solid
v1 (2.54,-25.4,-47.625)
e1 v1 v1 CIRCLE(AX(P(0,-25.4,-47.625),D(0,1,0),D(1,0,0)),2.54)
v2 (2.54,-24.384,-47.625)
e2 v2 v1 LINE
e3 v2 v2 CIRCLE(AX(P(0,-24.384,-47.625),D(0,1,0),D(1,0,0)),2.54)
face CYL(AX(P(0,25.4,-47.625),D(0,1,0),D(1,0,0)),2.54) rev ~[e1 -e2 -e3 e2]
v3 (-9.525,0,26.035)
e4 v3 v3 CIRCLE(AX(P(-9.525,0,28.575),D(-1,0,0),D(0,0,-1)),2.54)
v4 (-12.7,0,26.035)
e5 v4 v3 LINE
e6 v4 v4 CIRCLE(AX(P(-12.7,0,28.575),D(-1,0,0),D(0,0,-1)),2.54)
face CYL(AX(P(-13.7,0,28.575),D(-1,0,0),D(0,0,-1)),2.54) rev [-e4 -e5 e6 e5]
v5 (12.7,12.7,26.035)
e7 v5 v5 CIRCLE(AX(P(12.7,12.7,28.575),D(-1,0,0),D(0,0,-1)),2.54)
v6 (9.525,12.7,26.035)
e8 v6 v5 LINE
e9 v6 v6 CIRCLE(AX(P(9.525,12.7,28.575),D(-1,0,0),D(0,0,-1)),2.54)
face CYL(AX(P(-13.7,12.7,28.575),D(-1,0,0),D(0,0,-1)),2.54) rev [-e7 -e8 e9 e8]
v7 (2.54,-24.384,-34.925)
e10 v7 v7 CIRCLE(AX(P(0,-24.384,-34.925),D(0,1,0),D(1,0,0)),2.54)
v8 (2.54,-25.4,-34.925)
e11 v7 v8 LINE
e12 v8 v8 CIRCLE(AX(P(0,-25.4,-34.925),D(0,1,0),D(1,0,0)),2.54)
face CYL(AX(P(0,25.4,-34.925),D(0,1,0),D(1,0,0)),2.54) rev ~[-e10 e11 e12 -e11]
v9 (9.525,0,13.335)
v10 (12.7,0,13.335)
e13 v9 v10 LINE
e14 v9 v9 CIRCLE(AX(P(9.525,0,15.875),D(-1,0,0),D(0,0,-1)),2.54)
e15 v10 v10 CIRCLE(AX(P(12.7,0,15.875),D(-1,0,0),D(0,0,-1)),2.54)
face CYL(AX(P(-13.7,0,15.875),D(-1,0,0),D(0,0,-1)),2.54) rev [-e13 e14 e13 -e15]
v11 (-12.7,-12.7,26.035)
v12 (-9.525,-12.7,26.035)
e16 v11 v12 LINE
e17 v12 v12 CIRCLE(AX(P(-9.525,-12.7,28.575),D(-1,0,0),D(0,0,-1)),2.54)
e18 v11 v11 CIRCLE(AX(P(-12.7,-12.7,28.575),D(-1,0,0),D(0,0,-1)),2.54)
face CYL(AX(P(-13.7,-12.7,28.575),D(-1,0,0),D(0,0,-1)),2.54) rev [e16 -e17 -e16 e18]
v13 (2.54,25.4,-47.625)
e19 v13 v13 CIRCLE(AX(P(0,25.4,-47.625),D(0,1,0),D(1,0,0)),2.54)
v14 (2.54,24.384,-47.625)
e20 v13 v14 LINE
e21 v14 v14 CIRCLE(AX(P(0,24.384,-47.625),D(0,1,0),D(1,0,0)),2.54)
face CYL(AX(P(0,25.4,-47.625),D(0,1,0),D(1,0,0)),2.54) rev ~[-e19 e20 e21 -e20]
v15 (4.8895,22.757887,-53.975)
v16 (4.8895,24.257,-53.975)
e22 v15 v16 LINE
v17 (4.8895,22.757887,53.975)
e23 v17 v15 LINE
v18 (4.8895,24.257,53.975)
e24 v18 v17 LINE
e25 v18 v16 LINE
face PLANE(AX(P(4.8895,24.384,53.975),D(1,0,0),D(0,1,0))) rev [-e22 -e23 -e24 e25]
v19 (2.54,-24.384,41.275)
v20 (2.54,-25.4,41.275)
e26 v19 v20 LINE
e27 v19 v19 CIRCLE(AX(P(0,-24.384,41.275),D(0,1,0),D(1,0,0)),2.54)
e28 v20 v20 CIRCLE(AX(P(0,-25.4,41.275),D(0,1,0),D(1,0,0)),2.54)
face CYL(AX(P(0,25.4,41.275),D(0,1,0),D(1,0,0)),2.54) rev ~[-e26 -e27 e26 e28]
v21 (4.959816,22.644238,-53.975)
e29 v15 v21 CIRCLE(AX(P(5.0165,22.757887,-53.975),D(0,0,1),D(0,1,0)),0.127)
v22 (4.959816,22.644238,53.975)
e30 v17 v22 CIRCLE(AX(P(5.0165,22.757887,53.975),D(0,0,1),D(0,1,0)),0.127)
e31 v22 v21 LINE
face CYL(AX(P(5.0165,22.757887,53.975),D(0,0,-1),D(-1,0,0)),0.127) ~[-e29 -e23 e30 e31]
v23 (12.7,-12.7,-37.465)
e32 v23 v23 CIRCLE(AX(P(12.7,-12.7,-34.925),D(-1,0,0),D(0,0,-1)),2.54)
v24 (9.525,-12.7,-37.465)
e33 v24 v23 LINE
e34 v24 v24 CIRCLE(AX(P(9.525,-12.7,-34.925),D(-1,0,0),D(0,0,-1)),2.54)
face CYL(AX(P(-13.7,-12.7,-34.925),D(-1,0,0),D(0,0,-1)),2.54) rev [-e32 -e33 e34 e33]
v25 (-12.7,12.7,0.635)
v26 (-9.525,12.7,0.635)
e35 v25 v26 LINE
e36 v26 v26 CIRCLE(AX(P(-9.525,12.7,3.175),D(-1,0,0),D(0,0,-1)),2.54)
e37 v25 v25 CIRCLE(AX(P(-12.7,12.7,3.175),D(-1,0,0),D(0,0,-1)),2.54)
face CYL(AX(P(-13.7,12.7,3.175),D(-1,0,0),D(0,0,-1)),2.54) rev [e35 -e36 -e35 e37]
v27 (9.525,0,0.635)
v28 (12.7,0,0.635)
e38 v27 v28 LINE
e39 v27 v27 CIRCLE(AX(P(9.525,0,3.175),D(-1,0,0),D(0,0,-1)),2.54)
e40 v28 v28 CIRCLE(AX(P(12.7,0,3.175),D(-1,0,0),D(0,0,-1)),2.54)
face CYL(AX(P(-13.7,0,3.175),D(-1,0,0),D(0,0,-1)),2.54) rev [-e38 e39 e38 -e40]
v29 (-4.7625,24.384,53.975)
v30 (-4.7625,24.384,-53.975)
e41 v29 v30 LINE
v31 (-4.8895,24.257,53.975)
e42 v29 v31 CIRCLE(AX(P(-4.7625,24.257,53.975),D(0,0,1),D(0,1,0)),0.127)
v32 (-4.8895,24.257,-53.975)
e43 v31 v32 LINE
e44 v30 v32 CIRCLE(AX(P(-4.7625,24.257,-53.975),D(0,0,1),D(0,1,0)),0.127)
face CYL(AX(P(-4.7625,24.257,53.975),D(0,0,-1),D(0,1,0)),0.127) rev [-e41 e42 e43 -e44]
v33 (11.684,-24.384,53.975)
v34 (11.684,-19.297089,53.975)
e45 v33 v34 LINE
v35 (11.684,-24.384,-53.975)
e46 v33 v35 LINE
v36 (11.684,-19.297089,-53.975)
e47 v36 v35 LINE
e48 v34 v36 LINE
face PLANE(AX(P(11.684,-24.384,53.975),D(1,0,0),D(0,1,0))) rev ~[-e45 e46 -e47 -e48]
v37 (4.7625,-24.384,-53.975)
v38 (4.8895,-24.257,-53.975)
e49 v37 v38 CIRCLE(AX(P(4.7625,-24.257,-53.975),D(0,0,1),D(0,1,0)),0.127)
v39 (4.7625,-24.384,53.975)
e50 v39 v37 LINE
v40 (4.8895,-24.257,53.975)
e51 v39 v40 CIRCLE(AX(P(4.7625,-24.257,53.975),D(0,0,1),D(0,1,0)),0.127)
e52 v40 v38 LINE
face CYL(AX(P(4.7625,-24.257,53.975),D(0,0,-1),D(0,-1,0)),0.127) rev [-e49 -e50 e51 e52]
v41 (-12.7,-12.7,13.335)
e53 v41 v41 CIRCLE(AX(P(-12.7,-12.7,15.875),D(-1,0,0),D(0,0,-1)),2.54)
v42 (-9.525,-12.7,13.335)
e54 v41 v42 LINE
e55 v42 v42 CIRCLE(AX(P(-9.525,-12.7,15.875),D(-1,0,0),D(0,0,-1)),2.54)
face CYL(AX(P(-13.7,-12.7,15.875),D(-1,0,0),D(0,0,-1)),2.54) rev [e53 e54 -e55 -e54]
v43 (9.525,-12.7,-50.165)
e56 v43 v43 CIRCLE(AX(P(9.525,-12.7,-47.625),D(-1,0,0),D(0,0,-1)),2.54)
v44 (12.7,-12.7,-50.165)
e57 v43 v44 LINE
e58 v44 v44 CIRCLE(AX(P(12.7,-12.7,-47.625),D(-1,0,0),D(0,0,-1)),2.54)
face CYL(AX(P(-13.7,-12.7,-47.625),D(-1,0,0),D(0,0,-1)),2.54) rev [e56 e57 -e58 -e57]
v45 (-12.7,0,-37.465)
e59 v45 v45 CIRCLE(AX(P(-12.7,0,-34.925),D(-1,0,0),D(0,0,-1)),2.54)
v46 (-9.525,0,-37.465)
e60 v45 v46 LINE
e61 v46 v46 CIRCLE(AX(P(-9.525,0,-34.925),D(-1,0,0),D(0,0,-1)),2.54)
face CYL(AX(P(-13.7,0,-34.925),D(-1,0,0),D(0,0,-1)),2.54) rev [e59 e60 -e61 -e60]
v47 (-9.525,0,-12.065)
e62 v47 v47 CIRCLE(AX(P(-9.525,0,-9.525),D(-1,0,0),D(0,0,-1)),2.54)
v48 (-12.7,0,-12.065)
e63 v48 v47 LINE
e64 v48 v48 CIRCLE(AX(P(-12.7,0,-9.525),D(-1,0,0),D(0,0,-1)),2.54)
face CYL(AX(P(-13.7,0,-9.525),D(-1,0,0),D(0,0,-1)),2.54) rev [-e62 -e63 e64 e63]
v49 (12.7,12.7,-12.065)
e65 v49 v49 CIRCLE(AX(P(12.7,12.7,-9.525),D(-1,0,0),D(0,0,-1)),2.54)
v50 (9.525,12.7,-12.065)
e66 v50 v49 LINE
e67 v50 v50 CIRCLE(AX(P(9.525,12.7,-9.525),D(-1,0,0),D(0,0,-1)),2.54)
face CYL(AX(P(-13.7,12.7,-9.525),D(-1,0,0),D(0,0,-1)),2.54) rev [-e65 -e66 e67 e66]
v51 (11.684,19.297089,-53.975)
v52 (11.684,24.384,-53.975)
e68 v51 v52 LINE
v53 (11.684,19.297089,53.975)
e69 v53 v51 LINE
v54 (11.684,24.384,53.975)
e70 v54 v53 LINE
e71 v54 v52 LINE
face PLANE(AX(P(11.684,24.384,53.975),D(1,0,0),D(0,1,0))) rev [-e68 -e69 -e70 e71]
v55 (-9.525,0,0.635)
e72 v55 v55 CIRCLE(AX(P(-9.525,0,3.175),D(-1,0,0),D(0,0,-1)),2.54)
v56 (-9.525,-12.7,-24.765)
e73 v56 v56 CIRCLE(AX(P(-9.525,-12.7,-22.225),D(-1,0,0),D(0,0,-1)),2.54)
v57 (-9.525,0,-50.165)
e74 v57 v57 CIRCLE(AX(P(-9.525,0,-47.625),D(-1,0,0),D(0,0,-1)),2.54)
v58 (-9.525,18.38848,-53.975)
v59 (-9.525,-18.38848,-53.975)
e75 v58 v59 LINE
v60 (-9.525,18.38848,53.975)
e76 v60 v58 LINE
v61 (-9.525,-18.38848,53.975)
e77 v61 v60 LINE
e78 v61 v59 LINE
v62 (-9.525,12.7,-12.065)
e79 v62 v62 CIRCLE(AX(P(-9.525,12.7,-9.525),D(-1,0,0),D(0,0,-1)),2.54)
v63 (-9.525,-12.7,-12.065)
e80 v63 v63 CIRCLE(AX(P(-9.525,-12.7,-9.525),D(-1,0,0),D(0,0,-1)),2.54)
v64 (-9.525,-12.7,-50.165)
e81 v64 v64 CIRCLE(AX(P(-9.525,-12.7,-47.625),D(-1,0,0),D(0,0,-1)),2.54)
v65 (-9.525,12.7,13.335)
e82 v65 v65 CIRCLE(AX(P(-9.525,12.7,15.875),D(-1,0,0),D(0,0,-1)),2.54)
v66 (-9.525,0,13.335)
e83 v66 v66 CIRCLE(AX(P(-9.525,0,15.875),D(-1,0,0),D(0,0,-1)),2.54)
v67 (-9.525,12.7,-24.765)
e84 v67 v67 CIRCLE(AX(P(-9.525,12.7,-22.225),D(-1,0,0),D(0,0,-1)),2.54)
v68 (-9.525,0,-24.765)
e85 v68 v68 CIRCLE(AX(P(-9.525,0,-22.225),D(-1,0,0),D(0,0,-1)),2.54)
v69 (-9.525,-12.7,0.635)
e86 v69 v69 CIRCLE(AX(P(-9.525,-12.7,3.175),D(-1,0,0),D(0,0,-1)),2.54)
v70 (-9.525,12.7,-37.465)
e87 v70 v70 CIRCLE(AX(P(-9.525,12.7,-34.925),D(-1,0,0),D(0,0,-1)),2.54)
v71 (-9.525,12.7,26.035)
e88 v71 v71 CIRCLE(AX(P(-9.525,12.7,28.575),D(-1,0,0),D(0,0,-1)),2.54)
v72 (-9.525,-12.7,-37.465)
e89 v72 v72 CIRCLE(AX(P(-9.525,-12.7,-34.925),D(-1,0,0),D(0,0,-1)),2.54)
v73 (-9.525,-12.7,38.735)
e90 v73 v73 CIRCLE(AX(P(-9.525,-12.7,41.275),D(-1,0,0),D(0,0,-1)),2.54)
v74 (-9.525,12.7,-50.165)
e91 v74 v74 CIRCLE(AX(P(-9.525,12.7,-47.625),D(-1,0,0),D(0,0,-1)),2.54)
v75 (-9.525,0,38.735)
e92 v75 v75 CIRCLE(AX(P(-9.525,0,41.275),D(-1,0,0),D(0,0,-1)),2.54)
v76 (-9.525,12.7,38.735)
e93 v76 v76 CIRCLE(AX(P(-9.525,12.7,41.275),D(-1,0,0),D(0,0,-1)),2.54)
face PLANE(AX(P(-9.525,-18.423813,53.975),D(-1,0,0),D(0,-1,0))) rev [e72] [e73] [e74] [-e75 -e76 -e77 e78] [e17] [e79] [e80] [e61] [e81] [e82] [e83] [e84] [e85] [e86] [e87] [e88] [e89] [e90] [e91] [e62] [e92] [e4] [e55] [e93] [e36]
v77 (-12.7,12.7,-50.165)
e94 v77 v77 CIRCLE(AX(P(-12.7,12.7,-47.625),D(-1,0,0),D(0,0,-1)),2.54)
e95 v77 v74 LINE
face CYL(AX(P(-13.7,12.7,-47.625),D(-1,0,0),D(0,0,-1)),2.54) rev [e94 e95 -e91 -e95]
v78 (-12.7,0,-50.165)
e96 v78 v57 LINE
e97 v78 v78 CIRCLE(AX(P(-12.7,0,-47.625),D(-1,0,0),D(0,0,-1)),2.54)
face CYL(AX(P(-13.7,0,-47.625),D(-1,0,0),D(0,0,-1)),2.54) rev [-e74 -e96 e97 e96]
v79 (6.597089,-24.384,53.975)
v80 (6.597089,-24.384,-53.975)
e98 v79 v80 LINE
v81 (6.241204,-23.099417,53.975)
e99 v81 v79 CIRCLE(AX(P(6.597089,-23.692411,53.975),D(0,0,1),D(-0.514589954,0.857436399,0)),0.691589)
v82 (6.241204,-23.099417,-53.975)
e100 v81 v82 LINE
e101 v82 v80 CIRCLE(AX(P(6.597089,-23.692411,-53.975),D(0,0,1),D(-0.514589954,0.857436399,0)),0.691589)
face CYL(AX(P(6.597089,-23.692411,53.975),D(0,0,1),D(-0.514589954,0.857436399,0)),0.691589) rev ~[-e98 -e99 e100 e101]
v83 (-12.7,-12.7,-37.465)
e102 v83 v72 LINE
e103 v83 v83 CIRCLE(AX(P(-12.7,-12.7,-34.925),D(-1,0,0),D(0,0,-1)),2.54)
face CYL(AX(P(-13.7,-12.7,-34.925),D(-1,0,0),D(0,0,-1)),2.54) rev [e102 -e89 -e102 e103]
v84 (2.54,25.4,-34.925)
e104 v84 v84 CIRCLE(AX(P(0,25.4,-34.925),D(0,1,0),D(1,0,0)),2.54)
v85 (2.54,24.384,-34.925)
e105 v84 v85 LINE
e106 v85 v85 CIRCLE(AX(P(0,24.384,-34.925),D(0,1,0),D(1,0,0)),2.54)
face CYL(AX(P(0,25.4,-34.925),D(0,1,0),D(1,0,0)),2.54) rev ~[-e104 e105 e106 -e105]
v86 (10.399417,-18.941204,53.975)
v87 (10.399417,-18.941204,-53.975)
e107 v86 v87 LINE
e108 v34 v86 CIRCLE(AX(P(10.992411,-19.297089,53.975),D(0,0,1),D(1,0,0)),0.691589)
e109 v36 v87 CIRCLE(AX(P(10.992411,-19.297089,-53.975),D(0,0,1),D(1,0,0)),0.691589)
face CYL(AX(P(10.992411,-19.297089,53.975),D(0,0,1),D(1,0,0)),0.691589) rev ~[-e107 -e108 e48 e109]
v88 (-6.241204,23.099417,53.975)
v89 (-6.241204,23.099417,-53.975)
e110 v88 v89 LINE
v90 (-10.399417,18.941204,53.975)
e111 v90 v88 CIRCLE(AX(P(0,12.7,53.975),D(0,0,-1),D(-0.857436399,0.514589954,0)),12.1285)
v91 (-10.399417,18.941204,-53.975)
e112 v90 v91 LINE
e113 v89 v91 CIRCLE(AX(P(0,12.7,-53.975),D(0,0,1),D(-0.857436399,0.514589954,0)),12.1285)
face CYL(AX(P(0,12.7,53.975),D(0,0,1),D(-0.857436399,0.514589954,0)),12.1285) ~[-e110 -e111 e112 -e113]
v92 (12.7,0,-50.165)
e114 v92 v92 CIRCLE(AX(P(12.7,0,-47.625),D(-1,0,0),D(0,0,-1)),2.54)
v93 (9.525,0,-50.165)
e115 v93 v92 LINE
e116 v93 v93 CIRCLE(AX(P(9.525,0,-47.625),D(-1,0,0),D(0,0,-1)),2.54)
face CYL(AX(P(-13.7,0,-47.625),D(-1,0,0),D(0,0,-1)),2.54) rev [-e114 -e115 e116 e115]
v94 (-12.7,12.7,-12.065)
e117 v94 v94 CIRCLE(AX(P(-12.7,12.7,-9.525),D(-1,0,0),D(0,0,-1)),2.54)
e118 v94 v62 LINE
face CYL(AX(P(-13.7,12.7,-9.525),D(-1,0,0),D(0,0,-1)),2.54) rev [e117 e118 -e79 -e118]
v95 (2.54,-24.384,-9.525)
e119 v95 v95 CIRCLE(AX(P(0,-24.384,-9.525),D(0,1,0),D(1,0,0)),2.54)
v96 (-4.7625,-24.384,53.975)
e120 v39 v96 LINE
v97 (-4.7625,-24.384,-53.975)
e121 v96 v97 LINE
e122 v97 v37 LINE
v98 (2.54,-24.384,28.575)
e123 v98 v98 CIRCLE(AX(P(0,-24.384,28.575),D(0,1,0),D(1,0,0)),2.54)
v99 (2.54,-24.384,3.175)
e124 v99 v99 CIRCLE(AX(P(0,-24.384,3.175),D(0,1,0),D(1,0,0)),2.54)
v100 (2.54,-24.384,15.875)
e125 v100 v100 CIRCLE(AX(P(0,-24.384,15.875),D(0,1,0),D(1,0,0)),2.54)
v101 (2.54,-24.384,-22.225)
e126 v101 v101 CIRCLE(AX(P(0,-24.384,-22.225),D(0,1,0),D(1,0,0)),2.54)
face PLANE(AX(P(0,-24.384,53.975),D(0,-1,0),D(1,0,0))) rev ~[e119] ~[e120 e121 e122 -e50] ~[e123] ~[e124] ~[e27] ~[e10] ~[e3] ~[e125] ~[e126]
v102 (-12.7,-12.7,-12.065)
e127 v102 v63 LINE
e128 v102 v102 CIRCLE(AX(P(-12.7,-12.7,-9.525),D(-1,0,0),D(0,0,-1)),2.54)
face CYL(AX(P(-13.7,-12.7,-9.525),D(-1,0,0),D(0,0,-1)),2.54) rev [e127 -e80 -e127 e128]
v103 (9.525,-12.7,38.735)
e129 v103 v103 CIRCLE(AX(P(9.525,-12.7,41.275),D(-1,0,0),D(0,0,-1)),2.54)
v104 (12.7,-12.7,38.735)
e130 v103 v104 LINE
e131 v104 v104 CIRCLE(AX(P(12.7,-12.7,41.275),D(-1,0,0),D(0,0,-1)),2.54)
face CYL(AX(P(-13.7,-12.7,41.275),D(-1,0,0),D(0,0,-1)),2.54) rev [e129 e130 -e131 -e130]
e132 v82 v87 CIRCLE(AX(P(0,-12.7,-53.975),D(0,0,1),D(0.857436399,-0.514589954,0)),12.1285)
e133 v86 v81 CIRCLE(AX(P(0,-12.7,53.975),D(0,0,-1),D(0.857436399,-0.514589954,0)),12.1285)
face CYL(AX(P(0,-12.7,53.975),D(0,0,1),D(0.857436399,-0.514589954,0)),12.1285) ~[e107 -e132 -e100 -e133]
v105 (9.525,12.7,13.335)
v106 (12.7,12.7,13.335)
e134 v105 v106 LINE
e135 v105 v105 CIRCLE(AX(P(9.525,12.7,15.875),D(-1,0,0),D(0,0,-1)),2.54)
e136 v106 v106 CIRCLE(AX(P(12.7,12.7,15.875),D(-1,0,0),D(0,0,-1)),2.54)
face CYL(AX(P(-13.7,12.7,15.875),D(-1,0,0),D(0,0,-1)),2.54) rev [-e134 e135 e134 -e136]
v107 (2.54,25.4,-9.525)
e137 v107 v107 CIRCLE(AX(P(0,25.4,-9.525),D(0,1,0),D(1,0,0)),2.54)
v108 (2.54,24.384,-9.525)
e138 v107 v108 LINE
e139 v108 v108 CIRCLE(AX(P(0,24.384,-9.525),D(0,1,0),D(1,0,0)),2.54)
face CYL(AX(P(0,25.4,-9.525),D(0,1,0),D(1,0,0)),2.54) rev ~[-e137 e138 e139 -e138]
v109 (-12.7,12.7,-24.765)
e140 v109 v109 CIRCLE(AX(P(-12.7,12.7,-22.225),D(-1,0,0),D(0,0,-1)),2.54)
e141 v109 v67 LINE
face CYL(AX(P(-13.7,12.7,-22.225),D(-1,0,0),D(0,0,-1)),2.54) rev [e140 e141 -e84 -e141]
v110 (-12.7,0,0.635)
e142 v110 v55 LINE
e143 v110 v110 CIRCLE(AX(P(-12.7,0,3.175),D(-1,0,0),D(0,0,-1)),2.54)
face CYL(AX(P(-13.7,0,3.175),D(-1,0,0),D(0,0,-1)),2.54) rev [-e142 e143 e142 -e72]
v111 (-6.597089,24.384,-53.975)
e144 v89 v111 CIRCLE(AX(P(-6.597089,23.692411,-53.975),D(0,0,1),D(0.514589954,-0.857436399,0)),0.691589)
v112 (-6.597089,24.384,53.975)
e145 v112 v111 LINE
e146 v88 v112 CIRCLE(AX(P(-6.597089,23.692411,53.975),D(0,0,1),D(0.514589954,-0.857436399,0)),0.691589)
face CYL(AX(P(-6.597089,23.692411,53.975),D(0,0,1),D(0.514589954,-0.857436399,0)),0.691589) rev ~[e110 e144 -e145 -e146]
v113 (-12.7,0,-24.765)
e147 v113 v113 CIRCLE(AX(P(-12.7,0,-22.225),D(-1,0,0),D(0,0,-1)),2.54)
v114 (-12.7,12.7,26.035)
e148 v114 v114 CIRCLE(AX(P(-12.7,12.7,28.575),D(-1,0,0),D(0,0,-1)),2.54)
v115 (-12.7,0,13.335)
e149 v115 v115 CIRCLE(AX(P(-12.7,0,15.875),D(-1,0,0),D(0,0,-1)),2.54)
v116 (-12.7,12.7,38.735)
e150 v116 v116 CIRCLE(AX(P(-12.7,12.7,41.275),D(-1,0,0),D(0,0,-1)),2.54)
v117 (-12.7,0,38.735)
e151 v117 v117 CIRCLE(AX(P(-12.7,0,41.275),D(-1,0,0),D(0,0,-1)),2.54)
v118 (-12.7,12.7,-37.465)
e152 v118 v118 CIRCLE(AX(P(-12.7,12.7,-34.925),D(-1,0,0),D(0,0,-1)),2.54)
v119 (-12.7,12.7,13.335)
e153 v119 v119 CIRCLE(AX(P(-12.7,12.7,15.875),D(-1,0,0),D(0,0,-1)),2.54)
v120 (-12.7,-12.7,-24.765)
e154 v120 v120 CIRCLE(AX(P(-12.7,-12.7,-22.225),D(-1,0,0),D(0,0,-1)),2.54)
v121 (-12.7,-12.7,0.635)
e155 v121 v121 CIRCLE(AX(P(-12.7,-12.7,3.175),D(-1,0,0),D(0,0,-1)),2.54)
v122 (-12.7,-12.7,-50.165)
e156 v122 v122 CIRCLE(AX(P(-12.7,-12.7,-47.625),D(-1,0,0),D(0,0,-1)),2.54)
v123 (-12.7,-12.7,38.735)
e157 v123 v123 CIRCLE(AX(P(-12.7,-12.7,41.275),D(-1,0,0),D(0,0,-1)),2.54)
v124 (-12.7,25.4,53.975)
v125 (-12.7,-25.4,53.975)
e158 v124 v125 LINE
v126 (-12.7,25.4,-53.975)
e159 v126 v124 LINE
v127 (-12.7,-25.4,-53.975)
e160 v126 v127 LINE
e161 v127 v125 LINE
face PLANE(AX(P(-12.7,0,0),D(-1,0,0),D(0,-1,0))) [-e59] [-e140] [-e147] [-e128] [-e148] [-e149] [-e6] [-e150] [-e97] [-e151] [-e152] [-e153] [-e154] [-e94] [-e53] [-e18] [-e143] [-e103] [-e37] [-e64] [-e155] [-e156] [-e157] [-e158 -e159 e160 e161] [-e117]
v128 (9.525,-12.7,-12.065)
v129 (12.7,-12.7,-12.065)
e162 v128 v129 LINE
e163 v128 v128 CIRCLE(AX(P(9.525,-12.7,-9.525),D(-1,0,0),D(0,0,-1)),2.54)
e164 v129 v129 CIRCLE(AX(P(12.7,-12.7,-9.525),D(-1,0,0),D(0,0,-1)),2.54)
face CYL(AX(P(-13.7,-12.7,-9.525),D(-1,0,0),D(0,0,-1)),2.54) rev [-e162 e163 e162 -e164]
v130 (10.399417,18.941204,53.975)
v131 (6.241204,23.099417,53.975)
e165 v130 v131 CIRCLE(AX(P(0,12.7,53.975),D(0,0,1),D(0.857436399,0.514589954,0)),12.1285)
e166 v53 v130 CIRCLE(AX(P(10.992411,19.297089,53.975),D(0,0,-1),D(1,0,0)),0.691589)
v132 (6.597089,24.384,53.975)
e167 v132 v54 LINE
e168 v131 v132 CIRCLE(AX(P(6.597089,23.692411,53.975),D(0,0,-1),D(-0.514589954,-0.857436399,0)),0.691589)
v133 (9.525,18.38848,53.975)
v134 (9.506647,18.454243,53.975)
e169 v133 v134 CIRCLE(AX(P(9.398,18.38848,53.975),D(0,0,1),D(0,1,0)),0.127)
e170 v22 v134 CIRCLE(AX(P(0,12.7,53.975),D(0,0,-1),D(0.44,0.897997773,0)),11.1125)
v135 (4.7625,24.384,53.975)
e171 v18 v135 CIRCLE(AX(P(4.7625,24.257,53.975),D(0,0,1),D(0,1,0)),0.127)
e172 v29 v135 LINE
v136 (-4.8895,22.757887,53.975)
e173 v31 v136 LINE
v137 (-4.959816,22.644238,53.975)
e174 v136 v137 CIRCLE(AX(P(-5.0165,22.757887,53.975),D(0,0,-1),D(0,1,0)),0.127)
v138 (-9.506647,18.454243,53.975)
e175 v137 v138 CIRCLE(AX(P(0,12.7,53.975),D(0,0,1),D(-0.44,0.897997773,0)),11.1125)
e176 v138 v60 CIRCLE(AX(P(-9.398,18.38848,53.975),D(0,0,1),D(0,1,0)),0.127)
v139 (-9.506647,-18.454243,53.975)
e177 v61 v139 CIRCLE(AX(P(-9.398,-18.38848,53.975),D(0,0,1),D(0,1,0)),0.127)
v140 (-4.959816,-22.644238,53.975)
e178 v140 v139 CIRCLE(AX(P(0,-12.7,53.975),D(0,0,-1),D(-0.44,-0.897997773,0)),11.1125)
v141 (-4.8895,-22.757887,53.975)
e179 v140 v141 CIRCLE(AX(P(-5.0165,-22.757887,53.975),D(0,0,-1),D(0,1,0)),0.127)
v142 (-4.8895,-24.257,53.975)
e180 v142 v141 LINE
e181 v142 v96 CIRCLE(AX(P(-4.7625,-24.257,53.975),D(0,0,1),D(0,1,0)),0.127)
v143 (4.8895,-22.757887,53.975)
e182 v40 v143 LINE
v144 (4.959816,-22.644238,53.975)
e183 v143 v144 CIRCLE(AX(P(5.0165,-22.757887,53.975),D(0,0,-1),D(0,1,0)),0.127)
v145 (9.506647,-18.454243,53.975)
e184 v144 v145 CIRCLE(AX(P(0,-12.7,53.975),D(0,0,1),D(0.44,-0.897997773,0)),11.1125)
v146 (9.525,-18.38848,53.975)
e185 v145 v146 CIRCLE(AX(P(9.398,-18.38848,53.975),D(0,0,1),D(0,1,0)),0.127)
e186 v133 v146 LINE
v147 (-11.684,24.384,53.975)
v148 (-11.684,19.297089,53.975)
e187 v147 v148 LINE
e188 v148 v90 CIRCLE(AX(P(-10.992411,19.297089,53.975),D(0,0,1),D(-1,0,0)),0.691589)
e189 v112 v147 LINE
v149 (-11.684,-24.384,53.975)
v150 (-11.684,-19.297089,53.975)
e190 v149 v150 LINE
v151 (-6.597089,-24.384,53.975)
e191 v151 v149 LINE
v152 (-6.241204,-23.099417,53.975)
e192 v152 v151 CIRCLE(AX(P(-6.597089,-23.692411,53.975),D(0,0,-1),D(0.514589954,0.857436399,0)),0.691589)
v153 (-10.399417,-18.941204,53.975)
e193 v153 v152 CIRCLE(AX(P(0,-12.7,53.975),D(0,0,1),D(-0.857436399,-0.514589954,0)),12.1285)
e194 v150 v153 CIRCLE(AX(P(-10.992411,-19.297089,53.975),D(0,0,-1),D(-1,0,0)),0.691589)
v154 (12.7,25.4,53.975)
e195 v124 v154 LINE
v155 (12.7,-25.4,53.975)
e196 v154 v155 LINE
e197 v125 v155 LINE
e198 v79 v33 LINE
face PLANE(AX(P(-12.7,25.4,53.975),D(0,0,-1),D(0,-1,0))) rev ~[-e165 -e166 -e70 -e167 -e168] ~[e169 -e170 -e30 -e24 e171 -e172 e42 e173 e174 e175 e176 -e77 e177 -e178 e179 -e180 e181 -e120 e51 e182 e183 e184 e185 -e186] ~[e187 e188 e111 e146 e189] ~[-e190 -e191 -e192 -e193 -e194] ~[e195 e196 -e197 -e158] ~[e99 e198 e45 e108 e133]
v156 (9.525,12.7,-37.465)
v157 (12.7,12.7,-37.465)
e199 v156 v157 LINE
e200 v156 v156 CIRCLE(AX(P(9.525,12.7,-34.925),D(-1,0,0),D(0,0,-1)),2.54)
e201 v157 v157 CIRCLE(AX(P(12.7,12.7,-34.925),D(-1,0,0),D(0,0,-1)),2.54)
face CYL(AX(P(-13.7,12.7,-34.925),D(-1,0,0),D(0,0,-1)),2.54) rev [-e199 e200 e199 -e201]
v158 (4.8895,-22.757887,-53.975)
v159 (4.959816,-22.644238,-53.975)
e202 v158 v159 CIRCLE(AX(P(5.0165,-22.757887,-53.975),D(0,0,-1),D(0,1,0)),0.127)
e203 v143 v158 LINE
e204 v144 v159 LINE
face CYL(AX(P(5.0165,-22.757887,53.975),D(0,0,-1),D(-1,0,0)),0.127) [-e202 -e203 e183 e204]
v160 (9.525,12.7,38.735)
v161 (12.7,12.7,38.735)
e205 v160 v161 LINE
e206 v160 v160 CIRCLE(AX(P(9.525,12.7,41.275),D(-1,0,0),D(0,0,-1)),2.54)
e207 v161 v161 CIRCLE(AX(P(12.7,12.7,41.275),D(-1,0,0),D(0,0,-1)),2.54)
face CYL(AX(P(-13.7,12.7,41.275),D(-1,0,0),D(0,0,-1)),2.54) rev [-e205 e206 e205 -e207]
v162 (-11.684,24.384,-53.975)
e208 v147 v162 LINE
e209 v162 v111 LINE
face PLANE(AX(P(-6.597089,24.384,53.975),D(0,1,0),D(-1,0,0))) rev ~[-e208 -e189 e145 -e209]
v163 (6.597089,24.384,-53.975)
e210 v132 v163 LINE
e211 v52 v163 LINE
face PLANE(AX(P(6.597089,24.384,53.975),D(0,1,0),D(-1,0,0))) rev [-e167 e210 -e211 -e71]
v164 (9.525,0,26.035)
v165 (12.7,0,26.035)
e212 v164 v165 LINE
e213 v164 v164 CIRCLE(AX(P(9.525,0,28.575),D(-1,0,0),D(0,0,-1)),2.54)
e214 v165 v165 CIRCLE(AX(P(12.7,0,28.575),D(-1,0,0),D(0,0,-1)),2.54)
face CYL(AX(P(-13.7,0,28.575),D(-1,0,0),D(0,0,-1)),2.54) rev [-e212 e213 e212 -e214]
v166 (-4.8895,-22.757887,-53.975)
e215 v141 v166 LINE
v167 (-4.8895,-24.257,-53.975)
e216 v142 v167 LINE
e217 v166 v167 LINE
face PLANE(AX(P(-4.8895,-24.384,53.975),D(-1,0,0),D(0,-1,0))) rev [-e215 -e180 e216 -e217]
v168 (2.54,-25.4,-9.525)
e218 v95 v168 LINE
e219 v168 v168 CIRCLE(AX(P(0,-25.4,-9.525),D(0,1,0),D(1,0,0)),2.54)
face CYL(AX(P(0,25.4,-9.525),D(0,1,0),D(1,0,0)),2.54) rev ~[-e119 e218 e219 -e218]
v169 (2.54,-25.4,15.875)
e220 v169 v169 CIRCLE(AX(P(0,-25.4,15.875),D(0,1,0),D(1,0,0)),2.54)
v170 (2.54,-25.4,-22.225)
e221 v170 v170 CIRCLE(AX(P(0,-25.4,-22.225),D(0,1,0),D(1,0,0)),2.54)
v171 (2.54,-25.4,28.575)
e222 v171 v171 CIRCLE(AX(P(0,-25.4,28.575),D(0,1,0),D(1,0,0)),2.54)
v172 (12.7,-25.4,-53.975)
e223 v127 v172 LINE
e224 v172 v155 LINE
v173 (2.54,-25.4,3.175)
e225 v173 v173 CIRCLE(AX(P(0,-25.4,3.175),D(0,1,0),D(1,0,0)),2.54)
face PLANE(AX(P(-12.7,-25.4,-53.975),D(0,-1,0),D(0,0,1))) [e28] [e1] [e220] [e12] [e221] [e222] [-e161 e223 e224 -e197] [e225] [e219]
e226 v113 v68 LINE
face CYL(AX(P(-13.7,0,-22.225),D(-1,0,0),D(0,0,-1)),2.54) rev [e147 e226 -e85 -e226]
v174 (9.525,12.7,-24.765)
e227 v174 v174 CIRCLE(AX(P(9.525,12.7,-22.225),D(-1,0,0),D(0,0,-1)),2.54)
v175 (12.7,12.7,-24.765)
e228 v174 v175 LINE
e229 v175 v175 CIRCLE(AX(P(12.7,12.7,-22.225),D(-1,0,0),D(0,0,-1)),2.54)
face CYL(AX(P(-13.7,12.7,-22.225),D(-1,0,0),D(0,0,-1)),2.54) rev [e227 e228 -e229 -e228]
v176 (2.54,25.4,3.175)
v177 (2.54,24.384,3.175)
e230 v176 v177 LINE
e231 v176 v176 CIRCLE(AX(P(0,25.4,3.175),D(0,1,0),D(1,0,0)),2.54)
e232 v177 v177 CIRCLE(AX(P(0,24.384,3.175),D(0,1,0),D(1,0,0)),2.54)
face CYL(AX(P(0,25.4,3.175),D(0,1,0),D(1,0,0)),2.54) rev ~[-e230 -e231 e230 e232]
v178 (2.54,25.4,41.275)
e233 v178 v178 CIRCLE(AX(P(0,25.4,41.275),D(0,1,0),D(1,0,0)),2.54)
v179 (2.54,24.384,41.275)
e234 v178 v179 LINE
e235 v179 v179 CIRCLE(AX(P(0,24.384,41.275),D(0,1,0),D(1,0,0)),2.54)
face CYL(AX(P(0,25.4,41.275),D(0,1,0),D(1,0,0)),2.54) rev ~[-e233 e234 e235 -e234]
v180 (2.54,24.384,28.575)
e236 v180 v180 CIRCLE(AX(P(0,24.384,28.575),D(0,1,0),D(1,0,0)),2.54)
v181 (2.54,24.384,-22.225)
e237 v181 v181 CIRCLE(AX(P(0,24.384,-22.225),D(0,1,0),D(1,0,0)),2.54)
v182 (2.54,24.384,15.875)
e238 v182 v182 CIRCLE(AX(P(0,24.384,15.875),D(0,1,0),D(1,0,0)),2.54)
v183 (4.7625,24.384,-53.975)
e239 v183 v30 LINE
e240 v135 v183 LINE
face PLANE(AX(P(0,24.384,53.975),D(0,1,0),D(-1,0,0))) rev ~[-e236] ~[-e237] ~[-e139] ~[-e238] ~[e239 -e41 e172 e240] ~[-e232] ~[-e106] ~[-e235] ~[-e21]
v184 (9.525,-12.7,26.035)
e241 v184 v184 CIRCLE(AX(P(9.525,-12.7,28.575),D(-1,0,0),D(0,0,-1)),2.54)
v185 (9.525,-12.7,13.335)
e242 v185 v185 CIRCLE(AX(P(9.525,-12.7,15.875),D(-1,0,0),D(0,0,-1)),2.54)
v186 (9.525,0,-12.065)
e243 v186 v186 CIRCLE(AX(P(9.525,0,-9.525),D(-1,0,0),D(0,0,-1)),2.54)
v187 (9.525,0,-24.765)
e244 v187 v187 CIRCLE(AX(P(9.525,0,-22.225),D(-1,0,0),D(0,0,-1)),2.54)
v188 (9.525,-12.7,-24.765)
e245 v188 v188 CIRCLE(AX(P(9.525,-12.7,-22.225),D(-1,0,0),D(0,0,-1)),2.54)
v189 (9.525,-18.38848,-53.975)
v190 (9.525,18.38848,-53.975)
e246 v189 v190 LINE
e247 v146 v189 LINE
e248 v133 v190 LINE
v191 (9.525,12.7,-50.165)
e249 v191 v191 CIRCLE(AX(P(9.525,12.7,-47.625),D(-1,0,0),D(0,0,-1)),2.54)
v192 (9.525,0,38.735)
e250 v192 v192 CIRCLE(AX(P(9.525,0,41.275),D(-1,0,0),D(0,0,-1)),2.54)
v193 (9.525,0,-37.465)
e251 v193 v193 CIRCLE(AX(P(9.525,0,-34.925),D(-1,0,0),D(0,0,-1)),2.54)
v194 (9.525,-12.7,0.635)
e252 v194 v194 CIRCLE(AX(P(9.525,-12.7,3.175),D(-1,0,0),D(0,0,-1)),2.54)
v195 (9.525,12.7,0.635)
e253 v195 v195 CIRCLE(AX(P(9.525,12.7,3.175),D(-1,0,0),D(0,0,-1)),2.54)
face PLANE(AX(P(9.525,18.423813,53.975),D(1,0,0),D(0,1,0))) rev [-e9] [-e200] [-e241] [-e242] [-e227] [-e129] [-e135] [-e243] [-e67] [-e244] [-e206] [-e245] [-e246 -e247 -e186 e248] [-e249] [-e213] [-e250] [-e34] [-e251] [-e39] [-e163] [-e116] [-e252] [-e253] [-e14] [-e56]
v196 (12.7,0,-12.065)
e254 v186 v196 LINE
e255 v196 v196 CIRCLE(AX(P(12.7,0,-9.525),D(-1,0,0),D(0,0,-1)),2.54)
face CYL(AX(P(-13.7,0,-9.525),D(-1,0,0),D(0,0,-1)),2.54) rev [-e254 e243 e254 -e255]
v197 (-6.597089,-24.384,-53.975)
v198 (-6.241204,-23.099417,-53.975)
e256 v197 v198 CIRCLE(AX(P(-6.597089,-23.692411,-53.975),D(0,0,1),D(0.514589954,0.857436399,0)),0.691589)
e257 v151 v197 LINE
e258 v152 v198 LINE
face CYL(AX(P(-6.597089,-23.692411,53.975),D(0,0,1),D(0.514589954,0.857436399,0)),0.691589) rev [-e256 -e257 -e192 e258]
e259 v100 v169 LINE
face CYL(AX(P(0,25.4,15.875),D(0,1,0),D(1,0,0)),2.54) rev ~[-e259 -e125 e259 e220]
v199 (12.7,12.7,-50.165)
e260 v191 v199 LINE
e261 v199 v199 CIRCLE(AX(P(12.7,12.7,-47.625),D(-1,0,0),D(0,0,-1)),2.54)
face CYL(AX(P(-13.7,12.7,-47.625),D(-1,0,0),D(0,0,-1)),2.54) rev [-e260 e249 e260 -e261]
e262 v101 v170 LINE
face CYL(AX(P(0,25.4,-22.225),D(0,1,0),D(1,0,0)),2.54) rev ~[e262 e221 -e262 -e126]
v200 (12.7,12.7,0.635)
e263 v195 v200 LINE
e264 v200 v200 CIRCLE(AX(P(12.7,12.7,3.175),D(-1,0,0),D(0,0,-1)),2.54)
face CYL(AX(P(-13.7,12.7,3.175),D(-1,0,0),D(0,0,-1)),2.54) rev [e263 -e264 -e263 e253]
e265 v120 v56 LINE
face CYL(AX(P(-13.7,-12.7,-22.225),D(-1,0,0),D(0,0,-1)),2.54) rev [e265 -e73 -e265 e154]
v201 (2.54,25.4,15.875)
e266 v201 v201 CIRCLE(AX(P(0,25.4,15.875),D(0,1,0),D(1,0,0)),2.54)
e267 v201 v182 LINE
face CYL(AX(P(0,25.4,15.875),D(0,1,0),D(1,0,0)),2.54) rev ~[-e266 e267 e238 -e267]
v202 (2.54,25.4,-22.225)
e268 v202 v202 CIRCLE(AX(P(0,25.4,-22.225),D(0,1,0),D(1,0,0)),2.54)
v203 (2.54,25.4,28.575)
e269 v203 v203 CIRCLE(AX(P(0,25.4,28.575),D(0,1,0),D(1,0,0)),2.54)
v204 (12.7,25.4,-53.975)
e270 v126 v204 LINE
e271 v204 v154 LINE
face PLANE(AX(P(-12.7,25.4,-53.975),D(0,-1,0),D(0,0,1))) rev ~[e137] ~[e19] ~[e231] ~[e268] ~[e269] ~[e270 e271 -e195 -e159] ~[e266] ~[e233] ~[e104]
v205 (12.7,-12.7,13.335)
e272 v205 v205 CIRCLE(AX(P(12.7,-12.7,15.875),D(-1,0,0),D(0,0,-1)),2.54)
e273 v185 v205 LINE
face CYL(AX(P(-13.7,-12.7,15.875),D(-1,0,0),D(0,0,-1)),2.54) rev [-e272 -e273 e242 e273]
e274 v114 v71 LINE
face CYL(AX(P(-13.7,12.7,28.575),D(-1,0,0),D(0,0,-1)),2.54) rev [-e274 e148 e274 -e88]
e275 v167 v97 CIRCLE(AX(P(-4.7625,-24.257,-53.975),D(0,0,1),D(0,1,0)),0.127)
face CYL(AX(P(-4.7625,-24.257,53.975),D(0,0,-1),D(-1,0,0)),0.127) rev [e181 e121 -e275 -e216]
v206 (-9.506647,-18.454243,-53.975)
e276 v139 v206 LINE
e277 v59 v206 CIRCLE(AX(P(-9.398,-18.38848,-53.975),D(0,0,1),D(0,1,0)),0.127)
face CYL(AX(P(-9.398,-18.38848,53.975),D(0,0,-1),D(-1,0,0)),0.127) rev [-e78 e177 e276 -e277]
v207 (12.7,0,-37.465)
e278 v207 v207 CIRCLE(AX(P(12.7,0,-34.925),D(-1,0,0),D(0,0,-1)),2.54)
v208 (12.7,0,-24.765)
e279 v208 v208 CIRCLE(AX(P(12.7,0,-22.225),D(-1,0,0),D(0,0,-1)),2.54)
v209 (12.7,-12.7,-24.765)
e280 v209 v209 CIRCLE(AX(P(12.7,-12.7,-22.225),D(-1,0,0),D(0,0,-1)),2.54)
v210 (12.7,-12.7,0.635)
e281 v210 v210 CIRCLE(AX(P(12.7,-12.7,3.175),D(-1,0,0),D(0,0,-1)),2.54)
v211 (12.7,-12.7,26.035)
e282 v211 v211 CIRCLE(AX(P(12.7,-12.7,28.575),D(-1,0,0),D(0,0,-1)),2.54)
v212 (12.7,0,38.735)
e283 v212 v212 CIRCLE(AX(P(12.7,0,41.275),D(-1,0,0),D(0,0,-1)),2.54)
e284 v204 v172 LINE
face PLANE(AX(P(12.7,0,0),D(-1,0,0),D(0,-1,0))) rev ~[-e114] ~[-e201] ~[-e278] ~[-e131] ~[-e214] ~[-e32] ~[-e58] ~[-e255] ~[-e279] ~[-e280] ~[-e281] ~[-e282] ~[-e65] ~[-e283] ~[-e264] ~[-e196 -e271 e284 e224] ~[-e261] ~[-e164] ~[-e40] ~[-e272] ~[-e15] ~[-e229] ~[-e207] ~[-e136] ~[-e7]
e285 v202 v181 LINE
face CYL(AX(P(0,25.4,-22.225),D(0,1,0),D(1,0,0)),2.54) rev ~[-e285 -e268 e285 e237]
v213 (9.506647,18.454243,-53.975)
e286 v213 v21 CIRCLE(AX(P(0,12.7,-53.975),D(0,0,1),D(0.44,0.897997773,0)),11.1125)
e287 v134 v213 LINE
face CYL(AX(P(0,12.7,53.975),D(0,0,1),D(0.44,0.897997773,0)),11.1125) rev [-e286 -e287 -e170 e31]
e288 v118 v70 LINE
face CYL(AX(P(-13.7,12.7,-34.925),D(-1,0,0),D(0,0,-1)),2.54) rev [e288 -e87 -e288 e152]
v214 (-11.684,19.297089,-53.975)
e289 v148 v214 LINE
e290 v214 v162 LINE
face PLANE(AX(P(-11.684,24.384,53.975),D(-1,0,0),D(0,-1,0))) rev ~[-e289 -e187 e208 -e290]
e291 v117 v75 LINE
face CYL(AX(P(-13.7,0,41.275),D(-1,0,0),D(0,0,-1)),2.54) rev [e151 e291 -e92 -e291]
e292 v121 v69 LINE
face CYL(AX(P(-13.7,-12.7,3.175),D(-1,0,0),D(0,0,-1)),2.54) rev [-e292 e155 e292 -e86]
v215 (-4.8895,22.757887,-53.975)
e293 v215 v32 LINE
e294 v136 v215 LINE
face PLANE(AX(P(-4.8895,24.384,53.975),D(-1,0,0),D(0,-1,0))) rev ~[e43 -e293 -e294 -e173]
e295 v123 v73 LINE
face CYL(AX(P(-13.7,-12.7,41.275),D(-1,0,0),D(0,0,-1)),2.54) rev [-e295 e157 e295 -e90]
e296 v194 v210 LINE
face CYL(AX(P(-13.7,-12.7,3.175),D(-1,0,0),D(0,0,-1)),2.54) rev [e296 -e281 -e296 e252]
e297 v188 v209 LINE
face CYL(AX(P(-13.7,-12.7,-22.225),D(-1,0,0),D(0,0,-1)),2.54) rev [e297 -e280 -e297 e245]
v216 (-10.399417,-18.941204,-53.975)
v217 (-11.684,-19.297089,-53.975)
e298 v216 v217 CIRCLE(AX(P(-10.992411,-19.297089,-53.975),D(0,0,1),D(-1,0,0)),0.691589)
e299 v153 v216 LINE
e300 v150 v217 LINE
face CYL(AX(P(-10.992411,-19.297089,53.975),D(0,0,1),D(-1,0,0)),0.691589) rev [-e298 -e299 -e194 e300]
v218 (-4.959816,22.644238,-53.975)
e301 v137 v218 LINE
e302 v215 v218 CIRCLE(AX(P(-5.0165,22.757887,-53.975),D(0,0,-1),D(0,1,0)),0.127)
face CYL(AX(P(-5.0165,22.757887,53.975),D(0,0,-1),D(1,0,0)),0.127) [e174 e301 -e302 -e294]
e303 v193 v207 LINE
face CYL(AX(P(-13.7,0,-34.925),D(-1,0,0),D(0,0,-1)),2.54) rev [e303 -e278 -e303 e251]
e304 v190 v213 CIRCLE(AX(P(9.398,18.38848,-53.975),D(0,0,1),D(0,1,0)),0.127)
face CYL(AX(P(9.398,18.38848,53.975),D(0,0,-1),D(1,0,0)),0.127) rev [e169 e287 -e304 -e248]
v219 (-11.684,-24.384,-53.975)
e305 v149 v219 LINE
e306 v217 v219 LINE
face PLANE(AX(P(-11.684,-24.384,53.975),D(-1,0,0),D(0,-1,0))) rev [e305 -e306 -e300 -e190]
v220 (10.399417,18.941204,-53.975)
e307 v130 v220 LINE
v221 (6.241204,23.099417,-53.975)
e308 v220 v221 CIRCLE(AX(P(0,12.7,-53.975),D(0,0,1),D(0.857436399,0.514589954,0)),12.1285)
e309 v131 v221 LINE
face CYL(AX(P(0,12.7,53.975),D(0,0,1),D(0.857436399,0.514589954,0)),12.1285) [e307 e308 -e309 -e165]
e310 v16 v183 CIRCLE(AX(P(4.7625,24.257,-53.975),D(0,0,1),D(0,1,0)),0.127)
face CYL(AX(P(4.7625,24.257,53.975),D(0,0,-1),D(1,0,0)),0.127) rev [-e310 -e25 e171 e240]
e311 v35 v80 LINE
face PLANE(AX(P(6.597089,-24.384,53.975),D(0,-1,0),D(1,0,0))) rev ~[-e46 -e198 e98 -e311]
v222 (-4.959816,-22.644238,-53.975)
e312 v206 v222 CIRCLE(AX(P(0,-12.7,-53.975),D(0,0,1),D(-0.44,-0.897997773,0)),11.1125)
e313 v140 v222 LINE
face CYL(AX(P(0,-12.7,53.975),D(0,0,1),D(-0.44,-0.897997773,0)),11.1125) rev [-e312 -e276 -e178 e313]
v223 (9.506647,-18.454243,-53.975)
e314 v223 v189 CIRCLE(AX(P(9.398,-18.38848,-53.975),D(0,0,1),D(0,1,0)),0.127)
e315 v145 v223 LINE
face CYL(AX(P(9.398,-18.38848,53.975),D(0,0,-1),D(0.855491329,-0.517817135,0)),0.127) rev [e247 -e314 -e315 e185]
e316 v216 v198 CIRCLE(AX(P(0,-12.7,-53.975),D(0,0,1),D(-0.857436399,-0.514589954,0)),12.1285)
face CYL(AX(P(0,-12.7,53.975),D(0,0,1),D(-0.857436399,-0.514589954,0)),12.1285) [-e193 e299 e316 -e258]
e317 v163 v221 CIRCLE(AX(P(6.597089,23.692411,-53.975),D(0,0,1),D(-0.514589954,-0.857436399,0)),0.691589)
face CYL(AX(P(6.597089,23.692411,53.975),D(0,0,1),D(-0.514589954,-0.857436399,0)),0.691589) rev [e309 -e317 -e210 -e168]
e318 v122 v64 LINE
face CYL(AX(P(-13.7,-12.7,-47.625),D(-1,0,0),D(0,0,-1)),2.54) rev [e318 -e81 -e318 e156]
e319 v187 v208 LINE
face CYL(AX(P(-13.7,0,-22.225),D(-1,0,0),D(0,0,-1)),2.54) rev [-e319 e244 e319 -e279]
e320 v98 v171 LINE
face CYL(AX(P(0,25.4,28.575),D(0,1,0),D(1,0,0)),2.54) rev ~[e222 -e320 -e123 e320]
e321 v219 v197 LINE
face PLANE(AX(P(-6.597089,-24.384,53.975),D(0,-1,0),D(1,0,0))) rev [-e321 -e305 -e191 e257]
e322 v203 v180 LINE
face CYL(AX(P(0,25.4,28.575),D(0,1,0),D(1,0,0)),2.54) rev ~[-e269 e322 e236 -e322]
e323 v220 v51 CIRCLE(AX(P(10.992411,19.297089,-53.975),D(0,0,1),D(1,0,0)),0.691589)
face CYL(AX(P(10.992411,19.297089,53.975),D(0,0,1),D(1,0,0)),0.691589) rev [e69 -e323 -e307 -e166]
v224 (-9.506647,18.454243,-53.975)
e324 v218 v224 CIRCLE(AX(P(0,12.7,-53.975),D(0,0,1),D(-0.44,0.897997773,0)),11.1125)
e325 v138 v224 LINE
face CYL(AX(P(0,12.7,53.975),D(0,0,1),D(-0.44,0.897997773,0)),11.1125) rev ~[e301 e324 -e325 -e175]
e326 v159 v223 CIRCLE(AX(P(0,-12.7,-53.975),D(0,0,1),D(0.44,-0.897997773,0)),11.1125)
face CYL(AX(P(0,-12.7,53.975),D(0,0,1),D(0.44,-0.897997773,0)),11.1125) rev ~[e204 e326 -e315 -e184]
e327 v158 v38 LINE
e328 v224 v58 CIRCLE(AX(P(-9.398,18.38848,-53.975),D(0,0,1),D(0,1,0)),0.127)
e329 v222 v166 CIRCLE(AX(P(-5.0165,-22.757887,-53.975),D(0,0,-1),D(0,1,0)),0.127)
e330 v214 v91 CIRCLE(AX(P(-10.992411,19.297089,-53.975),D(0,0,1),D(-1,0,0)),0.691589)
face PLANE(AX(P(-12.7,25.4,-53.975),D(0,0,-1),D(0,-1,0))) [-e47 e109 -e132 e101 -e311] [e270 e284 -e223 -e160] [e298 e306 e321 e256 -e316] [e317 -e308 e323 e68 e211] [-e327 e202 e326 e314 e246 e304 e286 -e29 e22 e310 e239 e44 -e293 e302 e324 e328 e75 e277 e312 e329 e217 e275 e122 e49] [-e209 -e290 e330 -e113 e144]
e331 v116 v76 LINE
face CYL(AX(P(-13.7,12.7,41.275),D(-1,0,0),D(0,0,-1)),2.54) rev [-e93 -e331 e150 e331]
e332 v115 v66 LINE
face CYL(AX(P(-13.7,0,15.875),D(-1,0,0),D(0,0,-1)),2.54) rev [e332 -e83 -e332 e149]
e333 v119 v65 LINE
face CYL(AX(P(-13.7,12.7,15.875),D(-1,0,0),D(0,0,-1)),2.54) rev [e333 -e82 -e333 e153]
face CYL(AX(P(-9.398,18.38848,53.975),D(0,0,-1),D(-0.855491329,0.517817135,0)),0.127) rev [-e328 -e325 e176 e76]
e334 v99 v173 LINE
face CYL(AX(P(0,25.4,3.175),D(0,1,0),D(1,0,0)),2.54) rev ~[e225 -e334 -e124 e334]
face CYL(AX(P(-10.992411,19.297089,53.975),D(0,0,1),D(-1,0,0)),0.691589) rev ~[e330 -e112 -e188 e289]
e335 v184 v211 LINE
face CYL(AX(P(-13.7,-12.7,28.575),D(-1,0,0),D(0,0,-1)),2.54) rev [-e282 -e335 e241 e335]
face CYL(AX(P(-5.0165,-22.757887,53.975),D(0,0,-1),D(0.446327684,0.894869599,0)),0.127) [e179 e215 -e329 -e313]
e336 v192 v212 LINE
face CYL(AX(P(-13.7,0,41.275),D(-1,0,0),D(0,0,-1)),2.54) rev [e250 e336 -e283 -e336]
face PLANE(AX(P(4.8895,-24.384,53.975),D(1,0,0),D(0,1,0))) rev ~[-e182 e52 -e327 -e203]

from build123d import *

# Parameters (mm, degrees)
SKETCH1_W                                = 50.8
SKETCH1_H                                = 107.95
BOSS_EXTRUDE1_DEPTH                      = 25.4
CUT_EXTRUDE9_DEPTH                       = 108.95
MIRROR1_AT_THE_SECOND_PLANE_COPY_1_DEPTH = 108.95
CUT_EXTRUDE11_START                      = -26.4
SKETCH17_R                               = 2.54
CUT_EXTRUDE11_DEPTH                      = 27.4
SKETCH18_R                               = 2.54
CUT_EXTRUDE12_DEPTH                      = 51.8
LPATTERN1_COUNT                          = 9
LPATTERN1_PITCH                          = 12.7
LPATTERN2_COUNT                          = 9
LPATTERN2_PITCH                          = 12.7
LPATTERN2_COUNT_DIR2                     = 3
LPATTERN2_PITCH_DIR2                     = 12.7
FILLET1_R                                = 0.127


with BuildPart() as part:
    # Sketch1 → Boss-Extrude1 (new body)
    with BuildSketch(Plane(origin=(-12.7, 0, 0), x_dir=(0, -1, 0), z_dir=(-1, 0, 0))):
        Rectangle(SKETCH1_W, SKETCH1_H)
    extrude(amount=-BOSS_EXTRUDE1_DEPTH)

    # Sketch10 → Cut-Extrude9 (cut, through all)
    with BuildSketch(Plane.XY.offset(53.975)):
        with BuildLine():
            Line((-11.684, 24.384), (-11.684, 19.297089026))
            ThreePointArc((-11.684, 19.297089026), (-11.177055919, 18.630604499), (-10.39941737, 18.941204261))
            ThreePointArc((-10.39941737, 18.941204261), (-8.576144596, 21.276144596), (-6.241204261, 23.09941737))
            ThreePointArc((-6.241204261, 23.09941737), (-5.930604499, 23.877055919), (-6.597089026, 24.384))
            Line((-6.597089026, 24.384), (-11.684, 24.384))
        make_face()
        with BuildLine():
            Line((0, 24.384), (-4.8895, 24.384))
            Line((-4.8895, 24.384), (-4.8895, 22.679000251))
            ThreePointArc((-4.8895, 22.679000251), (-7.514726072, 20.886363558), (-9.525, 18.42381265))
            Line((-9.525, 18.42381265), (-9.525, 0))
            Line((-9.525, 0), (0, 0))
            Line((0, 0), (0, 24.384))
        make_face()
    cut_extrude9 = extrude(amount=-CUT_EXTRUDE9_DEPTH, mode=Mode.SUBTRACT)

    # Mirror1: Cut-Extrude9 across plane
    add(cut_extrude9.mirror(Plane.ZX), mode=Mode.SUBTRACT)

    # Mirror1 at the second plane: Cut-Extrude9 across plane
    add(cut_extrude9.mirror(Plane(origin=(0, 0, 0), x_dir=(0, 0, 1), z_dir=(1, 0, 0))), mode=Mode.SUBTRACT)

    # Mirror1 at the second plane copy 1 sketc → Mirror1 at the second plane copy 1 (cut, through all)
    with BuildSketch(Plane(origin=(0, 0, 53.975), x_dir=(-1, 0, 0), z_dir=(0, 0, 1))):
        with BuildLine():
            Line((-11.684, 24.384), (-11.684, 19.297089026))
            ThreePointArc((-11.684, 19.297089026), (-11.177055919, 18.630604499), (-10.39941737, 18.941204261))
            ThreePointArc((-10.39941737, 18.941204261), (-8.576144596, 21.276144596), (-6.241204261, 23.09941737))
            ThreePointArc((-6.241204261, 23.09941737), (-5.930604499, 23.877055919), (-6.597089026, 24.384))
            Line((-6.597089026, 24.384), (-11.684, 24.384))
        make_face()
        with BuildLine():
            Line((0, 24.384), (-4.8895, 24.384))
            Line((-4.8895, 24.384), (-4.8895, 22.679000251))
            ThreePointArc((-4.8895, 22.679000251), (-7.514726072, 20.886363558), (-9.525, 18.42381265))
            Line((-9.525, 18.42381265), (-9.525, 0))
            Line((-9.525, 0), (0, 0))
            Line((0, 0), (0, 24.384))
        make_face()
    extrude(amount=-MIRROR1_AT_THE_SECOND_PLANE_COPY_1_DEPTH, mode=Mode.SUBTRACT)

    # Sketch17 → Cut-Extrude11 (cut)
    with BuildSketch(Plane(origin=(12.7, 0, 0), x_dir=(0, 0, -1), z_dir=(1, 0, 0)).offset(CUT_EXTRUDE11_START)):
        with Locations((-41.275, 12.7)):
            Circle(SKETCH17_R)
    cut_extrude11 = extrude(amount=CUT_EXTRUDE11_DEPTH, mode=Mode.SUBTRACT)

    # Sketch18 → Cut-Extrude12 (cut, through all)
    with BuildSketch(Plane(origin=(0, 25.4, 0), x_dir=(1, 0, 0), z_dir=(0, 1, 0))):
        with Locations((0, -41.275)):
            Circle(SKETCH18_R)
    cut_extrude12 = extrude(amount=-CUT_EXTRUDE12_DEPTH, mode=Mode.SUBTRACT)

    # LPattern1: Cut-Extrude12 ×9
    with Locations(*[(0, 0, -i * LPATTERN1_PITCH) for i in range(1, LPATTERN1_COUNT)]):
        add(cut_extrude12, mode=Mode.SUBTRACT)

    # LPattern2: Cut-Extrude11 9 × 3
    with Locations(*[(0, -j * LPATTERN2_PITCH_DIR2, -i * LPATTERN2_PITCH) for i in range(LPATTERN2_COUNT) for j in range(LPATTERN2_COUNT_DIR2) if (i, j) != (0, 0)]):
        add(cut_extrude11, mode=Mode.SUBTRACT)

    # Fillet1
    fillet1_edges = [part.edges().sort_by_distance(p)[0] for p in [
        (-4.8895, -24.384, 0),
        (-4.8895, -22.679000251, 0),
        (-9.525, -18.42381265, 0),
        (4.8895, -22.679000251, 0),
        (4.8895, -24.384, 0),
        (9.525, -18.42381265, 0),
        (-4.8895, 22.679000251, 0),
        (-4.8895, 24.384, 0),
        (-9.525, 18.42381265, 0),
        (4.8895, 24.384, 0),
        (4.8895, 22.679000251, 0),
        (9.525, 18.42381265, 0),
    ]]
    fillet(fillet1_edges, radius=FILLET1_R)


solid = part.part
